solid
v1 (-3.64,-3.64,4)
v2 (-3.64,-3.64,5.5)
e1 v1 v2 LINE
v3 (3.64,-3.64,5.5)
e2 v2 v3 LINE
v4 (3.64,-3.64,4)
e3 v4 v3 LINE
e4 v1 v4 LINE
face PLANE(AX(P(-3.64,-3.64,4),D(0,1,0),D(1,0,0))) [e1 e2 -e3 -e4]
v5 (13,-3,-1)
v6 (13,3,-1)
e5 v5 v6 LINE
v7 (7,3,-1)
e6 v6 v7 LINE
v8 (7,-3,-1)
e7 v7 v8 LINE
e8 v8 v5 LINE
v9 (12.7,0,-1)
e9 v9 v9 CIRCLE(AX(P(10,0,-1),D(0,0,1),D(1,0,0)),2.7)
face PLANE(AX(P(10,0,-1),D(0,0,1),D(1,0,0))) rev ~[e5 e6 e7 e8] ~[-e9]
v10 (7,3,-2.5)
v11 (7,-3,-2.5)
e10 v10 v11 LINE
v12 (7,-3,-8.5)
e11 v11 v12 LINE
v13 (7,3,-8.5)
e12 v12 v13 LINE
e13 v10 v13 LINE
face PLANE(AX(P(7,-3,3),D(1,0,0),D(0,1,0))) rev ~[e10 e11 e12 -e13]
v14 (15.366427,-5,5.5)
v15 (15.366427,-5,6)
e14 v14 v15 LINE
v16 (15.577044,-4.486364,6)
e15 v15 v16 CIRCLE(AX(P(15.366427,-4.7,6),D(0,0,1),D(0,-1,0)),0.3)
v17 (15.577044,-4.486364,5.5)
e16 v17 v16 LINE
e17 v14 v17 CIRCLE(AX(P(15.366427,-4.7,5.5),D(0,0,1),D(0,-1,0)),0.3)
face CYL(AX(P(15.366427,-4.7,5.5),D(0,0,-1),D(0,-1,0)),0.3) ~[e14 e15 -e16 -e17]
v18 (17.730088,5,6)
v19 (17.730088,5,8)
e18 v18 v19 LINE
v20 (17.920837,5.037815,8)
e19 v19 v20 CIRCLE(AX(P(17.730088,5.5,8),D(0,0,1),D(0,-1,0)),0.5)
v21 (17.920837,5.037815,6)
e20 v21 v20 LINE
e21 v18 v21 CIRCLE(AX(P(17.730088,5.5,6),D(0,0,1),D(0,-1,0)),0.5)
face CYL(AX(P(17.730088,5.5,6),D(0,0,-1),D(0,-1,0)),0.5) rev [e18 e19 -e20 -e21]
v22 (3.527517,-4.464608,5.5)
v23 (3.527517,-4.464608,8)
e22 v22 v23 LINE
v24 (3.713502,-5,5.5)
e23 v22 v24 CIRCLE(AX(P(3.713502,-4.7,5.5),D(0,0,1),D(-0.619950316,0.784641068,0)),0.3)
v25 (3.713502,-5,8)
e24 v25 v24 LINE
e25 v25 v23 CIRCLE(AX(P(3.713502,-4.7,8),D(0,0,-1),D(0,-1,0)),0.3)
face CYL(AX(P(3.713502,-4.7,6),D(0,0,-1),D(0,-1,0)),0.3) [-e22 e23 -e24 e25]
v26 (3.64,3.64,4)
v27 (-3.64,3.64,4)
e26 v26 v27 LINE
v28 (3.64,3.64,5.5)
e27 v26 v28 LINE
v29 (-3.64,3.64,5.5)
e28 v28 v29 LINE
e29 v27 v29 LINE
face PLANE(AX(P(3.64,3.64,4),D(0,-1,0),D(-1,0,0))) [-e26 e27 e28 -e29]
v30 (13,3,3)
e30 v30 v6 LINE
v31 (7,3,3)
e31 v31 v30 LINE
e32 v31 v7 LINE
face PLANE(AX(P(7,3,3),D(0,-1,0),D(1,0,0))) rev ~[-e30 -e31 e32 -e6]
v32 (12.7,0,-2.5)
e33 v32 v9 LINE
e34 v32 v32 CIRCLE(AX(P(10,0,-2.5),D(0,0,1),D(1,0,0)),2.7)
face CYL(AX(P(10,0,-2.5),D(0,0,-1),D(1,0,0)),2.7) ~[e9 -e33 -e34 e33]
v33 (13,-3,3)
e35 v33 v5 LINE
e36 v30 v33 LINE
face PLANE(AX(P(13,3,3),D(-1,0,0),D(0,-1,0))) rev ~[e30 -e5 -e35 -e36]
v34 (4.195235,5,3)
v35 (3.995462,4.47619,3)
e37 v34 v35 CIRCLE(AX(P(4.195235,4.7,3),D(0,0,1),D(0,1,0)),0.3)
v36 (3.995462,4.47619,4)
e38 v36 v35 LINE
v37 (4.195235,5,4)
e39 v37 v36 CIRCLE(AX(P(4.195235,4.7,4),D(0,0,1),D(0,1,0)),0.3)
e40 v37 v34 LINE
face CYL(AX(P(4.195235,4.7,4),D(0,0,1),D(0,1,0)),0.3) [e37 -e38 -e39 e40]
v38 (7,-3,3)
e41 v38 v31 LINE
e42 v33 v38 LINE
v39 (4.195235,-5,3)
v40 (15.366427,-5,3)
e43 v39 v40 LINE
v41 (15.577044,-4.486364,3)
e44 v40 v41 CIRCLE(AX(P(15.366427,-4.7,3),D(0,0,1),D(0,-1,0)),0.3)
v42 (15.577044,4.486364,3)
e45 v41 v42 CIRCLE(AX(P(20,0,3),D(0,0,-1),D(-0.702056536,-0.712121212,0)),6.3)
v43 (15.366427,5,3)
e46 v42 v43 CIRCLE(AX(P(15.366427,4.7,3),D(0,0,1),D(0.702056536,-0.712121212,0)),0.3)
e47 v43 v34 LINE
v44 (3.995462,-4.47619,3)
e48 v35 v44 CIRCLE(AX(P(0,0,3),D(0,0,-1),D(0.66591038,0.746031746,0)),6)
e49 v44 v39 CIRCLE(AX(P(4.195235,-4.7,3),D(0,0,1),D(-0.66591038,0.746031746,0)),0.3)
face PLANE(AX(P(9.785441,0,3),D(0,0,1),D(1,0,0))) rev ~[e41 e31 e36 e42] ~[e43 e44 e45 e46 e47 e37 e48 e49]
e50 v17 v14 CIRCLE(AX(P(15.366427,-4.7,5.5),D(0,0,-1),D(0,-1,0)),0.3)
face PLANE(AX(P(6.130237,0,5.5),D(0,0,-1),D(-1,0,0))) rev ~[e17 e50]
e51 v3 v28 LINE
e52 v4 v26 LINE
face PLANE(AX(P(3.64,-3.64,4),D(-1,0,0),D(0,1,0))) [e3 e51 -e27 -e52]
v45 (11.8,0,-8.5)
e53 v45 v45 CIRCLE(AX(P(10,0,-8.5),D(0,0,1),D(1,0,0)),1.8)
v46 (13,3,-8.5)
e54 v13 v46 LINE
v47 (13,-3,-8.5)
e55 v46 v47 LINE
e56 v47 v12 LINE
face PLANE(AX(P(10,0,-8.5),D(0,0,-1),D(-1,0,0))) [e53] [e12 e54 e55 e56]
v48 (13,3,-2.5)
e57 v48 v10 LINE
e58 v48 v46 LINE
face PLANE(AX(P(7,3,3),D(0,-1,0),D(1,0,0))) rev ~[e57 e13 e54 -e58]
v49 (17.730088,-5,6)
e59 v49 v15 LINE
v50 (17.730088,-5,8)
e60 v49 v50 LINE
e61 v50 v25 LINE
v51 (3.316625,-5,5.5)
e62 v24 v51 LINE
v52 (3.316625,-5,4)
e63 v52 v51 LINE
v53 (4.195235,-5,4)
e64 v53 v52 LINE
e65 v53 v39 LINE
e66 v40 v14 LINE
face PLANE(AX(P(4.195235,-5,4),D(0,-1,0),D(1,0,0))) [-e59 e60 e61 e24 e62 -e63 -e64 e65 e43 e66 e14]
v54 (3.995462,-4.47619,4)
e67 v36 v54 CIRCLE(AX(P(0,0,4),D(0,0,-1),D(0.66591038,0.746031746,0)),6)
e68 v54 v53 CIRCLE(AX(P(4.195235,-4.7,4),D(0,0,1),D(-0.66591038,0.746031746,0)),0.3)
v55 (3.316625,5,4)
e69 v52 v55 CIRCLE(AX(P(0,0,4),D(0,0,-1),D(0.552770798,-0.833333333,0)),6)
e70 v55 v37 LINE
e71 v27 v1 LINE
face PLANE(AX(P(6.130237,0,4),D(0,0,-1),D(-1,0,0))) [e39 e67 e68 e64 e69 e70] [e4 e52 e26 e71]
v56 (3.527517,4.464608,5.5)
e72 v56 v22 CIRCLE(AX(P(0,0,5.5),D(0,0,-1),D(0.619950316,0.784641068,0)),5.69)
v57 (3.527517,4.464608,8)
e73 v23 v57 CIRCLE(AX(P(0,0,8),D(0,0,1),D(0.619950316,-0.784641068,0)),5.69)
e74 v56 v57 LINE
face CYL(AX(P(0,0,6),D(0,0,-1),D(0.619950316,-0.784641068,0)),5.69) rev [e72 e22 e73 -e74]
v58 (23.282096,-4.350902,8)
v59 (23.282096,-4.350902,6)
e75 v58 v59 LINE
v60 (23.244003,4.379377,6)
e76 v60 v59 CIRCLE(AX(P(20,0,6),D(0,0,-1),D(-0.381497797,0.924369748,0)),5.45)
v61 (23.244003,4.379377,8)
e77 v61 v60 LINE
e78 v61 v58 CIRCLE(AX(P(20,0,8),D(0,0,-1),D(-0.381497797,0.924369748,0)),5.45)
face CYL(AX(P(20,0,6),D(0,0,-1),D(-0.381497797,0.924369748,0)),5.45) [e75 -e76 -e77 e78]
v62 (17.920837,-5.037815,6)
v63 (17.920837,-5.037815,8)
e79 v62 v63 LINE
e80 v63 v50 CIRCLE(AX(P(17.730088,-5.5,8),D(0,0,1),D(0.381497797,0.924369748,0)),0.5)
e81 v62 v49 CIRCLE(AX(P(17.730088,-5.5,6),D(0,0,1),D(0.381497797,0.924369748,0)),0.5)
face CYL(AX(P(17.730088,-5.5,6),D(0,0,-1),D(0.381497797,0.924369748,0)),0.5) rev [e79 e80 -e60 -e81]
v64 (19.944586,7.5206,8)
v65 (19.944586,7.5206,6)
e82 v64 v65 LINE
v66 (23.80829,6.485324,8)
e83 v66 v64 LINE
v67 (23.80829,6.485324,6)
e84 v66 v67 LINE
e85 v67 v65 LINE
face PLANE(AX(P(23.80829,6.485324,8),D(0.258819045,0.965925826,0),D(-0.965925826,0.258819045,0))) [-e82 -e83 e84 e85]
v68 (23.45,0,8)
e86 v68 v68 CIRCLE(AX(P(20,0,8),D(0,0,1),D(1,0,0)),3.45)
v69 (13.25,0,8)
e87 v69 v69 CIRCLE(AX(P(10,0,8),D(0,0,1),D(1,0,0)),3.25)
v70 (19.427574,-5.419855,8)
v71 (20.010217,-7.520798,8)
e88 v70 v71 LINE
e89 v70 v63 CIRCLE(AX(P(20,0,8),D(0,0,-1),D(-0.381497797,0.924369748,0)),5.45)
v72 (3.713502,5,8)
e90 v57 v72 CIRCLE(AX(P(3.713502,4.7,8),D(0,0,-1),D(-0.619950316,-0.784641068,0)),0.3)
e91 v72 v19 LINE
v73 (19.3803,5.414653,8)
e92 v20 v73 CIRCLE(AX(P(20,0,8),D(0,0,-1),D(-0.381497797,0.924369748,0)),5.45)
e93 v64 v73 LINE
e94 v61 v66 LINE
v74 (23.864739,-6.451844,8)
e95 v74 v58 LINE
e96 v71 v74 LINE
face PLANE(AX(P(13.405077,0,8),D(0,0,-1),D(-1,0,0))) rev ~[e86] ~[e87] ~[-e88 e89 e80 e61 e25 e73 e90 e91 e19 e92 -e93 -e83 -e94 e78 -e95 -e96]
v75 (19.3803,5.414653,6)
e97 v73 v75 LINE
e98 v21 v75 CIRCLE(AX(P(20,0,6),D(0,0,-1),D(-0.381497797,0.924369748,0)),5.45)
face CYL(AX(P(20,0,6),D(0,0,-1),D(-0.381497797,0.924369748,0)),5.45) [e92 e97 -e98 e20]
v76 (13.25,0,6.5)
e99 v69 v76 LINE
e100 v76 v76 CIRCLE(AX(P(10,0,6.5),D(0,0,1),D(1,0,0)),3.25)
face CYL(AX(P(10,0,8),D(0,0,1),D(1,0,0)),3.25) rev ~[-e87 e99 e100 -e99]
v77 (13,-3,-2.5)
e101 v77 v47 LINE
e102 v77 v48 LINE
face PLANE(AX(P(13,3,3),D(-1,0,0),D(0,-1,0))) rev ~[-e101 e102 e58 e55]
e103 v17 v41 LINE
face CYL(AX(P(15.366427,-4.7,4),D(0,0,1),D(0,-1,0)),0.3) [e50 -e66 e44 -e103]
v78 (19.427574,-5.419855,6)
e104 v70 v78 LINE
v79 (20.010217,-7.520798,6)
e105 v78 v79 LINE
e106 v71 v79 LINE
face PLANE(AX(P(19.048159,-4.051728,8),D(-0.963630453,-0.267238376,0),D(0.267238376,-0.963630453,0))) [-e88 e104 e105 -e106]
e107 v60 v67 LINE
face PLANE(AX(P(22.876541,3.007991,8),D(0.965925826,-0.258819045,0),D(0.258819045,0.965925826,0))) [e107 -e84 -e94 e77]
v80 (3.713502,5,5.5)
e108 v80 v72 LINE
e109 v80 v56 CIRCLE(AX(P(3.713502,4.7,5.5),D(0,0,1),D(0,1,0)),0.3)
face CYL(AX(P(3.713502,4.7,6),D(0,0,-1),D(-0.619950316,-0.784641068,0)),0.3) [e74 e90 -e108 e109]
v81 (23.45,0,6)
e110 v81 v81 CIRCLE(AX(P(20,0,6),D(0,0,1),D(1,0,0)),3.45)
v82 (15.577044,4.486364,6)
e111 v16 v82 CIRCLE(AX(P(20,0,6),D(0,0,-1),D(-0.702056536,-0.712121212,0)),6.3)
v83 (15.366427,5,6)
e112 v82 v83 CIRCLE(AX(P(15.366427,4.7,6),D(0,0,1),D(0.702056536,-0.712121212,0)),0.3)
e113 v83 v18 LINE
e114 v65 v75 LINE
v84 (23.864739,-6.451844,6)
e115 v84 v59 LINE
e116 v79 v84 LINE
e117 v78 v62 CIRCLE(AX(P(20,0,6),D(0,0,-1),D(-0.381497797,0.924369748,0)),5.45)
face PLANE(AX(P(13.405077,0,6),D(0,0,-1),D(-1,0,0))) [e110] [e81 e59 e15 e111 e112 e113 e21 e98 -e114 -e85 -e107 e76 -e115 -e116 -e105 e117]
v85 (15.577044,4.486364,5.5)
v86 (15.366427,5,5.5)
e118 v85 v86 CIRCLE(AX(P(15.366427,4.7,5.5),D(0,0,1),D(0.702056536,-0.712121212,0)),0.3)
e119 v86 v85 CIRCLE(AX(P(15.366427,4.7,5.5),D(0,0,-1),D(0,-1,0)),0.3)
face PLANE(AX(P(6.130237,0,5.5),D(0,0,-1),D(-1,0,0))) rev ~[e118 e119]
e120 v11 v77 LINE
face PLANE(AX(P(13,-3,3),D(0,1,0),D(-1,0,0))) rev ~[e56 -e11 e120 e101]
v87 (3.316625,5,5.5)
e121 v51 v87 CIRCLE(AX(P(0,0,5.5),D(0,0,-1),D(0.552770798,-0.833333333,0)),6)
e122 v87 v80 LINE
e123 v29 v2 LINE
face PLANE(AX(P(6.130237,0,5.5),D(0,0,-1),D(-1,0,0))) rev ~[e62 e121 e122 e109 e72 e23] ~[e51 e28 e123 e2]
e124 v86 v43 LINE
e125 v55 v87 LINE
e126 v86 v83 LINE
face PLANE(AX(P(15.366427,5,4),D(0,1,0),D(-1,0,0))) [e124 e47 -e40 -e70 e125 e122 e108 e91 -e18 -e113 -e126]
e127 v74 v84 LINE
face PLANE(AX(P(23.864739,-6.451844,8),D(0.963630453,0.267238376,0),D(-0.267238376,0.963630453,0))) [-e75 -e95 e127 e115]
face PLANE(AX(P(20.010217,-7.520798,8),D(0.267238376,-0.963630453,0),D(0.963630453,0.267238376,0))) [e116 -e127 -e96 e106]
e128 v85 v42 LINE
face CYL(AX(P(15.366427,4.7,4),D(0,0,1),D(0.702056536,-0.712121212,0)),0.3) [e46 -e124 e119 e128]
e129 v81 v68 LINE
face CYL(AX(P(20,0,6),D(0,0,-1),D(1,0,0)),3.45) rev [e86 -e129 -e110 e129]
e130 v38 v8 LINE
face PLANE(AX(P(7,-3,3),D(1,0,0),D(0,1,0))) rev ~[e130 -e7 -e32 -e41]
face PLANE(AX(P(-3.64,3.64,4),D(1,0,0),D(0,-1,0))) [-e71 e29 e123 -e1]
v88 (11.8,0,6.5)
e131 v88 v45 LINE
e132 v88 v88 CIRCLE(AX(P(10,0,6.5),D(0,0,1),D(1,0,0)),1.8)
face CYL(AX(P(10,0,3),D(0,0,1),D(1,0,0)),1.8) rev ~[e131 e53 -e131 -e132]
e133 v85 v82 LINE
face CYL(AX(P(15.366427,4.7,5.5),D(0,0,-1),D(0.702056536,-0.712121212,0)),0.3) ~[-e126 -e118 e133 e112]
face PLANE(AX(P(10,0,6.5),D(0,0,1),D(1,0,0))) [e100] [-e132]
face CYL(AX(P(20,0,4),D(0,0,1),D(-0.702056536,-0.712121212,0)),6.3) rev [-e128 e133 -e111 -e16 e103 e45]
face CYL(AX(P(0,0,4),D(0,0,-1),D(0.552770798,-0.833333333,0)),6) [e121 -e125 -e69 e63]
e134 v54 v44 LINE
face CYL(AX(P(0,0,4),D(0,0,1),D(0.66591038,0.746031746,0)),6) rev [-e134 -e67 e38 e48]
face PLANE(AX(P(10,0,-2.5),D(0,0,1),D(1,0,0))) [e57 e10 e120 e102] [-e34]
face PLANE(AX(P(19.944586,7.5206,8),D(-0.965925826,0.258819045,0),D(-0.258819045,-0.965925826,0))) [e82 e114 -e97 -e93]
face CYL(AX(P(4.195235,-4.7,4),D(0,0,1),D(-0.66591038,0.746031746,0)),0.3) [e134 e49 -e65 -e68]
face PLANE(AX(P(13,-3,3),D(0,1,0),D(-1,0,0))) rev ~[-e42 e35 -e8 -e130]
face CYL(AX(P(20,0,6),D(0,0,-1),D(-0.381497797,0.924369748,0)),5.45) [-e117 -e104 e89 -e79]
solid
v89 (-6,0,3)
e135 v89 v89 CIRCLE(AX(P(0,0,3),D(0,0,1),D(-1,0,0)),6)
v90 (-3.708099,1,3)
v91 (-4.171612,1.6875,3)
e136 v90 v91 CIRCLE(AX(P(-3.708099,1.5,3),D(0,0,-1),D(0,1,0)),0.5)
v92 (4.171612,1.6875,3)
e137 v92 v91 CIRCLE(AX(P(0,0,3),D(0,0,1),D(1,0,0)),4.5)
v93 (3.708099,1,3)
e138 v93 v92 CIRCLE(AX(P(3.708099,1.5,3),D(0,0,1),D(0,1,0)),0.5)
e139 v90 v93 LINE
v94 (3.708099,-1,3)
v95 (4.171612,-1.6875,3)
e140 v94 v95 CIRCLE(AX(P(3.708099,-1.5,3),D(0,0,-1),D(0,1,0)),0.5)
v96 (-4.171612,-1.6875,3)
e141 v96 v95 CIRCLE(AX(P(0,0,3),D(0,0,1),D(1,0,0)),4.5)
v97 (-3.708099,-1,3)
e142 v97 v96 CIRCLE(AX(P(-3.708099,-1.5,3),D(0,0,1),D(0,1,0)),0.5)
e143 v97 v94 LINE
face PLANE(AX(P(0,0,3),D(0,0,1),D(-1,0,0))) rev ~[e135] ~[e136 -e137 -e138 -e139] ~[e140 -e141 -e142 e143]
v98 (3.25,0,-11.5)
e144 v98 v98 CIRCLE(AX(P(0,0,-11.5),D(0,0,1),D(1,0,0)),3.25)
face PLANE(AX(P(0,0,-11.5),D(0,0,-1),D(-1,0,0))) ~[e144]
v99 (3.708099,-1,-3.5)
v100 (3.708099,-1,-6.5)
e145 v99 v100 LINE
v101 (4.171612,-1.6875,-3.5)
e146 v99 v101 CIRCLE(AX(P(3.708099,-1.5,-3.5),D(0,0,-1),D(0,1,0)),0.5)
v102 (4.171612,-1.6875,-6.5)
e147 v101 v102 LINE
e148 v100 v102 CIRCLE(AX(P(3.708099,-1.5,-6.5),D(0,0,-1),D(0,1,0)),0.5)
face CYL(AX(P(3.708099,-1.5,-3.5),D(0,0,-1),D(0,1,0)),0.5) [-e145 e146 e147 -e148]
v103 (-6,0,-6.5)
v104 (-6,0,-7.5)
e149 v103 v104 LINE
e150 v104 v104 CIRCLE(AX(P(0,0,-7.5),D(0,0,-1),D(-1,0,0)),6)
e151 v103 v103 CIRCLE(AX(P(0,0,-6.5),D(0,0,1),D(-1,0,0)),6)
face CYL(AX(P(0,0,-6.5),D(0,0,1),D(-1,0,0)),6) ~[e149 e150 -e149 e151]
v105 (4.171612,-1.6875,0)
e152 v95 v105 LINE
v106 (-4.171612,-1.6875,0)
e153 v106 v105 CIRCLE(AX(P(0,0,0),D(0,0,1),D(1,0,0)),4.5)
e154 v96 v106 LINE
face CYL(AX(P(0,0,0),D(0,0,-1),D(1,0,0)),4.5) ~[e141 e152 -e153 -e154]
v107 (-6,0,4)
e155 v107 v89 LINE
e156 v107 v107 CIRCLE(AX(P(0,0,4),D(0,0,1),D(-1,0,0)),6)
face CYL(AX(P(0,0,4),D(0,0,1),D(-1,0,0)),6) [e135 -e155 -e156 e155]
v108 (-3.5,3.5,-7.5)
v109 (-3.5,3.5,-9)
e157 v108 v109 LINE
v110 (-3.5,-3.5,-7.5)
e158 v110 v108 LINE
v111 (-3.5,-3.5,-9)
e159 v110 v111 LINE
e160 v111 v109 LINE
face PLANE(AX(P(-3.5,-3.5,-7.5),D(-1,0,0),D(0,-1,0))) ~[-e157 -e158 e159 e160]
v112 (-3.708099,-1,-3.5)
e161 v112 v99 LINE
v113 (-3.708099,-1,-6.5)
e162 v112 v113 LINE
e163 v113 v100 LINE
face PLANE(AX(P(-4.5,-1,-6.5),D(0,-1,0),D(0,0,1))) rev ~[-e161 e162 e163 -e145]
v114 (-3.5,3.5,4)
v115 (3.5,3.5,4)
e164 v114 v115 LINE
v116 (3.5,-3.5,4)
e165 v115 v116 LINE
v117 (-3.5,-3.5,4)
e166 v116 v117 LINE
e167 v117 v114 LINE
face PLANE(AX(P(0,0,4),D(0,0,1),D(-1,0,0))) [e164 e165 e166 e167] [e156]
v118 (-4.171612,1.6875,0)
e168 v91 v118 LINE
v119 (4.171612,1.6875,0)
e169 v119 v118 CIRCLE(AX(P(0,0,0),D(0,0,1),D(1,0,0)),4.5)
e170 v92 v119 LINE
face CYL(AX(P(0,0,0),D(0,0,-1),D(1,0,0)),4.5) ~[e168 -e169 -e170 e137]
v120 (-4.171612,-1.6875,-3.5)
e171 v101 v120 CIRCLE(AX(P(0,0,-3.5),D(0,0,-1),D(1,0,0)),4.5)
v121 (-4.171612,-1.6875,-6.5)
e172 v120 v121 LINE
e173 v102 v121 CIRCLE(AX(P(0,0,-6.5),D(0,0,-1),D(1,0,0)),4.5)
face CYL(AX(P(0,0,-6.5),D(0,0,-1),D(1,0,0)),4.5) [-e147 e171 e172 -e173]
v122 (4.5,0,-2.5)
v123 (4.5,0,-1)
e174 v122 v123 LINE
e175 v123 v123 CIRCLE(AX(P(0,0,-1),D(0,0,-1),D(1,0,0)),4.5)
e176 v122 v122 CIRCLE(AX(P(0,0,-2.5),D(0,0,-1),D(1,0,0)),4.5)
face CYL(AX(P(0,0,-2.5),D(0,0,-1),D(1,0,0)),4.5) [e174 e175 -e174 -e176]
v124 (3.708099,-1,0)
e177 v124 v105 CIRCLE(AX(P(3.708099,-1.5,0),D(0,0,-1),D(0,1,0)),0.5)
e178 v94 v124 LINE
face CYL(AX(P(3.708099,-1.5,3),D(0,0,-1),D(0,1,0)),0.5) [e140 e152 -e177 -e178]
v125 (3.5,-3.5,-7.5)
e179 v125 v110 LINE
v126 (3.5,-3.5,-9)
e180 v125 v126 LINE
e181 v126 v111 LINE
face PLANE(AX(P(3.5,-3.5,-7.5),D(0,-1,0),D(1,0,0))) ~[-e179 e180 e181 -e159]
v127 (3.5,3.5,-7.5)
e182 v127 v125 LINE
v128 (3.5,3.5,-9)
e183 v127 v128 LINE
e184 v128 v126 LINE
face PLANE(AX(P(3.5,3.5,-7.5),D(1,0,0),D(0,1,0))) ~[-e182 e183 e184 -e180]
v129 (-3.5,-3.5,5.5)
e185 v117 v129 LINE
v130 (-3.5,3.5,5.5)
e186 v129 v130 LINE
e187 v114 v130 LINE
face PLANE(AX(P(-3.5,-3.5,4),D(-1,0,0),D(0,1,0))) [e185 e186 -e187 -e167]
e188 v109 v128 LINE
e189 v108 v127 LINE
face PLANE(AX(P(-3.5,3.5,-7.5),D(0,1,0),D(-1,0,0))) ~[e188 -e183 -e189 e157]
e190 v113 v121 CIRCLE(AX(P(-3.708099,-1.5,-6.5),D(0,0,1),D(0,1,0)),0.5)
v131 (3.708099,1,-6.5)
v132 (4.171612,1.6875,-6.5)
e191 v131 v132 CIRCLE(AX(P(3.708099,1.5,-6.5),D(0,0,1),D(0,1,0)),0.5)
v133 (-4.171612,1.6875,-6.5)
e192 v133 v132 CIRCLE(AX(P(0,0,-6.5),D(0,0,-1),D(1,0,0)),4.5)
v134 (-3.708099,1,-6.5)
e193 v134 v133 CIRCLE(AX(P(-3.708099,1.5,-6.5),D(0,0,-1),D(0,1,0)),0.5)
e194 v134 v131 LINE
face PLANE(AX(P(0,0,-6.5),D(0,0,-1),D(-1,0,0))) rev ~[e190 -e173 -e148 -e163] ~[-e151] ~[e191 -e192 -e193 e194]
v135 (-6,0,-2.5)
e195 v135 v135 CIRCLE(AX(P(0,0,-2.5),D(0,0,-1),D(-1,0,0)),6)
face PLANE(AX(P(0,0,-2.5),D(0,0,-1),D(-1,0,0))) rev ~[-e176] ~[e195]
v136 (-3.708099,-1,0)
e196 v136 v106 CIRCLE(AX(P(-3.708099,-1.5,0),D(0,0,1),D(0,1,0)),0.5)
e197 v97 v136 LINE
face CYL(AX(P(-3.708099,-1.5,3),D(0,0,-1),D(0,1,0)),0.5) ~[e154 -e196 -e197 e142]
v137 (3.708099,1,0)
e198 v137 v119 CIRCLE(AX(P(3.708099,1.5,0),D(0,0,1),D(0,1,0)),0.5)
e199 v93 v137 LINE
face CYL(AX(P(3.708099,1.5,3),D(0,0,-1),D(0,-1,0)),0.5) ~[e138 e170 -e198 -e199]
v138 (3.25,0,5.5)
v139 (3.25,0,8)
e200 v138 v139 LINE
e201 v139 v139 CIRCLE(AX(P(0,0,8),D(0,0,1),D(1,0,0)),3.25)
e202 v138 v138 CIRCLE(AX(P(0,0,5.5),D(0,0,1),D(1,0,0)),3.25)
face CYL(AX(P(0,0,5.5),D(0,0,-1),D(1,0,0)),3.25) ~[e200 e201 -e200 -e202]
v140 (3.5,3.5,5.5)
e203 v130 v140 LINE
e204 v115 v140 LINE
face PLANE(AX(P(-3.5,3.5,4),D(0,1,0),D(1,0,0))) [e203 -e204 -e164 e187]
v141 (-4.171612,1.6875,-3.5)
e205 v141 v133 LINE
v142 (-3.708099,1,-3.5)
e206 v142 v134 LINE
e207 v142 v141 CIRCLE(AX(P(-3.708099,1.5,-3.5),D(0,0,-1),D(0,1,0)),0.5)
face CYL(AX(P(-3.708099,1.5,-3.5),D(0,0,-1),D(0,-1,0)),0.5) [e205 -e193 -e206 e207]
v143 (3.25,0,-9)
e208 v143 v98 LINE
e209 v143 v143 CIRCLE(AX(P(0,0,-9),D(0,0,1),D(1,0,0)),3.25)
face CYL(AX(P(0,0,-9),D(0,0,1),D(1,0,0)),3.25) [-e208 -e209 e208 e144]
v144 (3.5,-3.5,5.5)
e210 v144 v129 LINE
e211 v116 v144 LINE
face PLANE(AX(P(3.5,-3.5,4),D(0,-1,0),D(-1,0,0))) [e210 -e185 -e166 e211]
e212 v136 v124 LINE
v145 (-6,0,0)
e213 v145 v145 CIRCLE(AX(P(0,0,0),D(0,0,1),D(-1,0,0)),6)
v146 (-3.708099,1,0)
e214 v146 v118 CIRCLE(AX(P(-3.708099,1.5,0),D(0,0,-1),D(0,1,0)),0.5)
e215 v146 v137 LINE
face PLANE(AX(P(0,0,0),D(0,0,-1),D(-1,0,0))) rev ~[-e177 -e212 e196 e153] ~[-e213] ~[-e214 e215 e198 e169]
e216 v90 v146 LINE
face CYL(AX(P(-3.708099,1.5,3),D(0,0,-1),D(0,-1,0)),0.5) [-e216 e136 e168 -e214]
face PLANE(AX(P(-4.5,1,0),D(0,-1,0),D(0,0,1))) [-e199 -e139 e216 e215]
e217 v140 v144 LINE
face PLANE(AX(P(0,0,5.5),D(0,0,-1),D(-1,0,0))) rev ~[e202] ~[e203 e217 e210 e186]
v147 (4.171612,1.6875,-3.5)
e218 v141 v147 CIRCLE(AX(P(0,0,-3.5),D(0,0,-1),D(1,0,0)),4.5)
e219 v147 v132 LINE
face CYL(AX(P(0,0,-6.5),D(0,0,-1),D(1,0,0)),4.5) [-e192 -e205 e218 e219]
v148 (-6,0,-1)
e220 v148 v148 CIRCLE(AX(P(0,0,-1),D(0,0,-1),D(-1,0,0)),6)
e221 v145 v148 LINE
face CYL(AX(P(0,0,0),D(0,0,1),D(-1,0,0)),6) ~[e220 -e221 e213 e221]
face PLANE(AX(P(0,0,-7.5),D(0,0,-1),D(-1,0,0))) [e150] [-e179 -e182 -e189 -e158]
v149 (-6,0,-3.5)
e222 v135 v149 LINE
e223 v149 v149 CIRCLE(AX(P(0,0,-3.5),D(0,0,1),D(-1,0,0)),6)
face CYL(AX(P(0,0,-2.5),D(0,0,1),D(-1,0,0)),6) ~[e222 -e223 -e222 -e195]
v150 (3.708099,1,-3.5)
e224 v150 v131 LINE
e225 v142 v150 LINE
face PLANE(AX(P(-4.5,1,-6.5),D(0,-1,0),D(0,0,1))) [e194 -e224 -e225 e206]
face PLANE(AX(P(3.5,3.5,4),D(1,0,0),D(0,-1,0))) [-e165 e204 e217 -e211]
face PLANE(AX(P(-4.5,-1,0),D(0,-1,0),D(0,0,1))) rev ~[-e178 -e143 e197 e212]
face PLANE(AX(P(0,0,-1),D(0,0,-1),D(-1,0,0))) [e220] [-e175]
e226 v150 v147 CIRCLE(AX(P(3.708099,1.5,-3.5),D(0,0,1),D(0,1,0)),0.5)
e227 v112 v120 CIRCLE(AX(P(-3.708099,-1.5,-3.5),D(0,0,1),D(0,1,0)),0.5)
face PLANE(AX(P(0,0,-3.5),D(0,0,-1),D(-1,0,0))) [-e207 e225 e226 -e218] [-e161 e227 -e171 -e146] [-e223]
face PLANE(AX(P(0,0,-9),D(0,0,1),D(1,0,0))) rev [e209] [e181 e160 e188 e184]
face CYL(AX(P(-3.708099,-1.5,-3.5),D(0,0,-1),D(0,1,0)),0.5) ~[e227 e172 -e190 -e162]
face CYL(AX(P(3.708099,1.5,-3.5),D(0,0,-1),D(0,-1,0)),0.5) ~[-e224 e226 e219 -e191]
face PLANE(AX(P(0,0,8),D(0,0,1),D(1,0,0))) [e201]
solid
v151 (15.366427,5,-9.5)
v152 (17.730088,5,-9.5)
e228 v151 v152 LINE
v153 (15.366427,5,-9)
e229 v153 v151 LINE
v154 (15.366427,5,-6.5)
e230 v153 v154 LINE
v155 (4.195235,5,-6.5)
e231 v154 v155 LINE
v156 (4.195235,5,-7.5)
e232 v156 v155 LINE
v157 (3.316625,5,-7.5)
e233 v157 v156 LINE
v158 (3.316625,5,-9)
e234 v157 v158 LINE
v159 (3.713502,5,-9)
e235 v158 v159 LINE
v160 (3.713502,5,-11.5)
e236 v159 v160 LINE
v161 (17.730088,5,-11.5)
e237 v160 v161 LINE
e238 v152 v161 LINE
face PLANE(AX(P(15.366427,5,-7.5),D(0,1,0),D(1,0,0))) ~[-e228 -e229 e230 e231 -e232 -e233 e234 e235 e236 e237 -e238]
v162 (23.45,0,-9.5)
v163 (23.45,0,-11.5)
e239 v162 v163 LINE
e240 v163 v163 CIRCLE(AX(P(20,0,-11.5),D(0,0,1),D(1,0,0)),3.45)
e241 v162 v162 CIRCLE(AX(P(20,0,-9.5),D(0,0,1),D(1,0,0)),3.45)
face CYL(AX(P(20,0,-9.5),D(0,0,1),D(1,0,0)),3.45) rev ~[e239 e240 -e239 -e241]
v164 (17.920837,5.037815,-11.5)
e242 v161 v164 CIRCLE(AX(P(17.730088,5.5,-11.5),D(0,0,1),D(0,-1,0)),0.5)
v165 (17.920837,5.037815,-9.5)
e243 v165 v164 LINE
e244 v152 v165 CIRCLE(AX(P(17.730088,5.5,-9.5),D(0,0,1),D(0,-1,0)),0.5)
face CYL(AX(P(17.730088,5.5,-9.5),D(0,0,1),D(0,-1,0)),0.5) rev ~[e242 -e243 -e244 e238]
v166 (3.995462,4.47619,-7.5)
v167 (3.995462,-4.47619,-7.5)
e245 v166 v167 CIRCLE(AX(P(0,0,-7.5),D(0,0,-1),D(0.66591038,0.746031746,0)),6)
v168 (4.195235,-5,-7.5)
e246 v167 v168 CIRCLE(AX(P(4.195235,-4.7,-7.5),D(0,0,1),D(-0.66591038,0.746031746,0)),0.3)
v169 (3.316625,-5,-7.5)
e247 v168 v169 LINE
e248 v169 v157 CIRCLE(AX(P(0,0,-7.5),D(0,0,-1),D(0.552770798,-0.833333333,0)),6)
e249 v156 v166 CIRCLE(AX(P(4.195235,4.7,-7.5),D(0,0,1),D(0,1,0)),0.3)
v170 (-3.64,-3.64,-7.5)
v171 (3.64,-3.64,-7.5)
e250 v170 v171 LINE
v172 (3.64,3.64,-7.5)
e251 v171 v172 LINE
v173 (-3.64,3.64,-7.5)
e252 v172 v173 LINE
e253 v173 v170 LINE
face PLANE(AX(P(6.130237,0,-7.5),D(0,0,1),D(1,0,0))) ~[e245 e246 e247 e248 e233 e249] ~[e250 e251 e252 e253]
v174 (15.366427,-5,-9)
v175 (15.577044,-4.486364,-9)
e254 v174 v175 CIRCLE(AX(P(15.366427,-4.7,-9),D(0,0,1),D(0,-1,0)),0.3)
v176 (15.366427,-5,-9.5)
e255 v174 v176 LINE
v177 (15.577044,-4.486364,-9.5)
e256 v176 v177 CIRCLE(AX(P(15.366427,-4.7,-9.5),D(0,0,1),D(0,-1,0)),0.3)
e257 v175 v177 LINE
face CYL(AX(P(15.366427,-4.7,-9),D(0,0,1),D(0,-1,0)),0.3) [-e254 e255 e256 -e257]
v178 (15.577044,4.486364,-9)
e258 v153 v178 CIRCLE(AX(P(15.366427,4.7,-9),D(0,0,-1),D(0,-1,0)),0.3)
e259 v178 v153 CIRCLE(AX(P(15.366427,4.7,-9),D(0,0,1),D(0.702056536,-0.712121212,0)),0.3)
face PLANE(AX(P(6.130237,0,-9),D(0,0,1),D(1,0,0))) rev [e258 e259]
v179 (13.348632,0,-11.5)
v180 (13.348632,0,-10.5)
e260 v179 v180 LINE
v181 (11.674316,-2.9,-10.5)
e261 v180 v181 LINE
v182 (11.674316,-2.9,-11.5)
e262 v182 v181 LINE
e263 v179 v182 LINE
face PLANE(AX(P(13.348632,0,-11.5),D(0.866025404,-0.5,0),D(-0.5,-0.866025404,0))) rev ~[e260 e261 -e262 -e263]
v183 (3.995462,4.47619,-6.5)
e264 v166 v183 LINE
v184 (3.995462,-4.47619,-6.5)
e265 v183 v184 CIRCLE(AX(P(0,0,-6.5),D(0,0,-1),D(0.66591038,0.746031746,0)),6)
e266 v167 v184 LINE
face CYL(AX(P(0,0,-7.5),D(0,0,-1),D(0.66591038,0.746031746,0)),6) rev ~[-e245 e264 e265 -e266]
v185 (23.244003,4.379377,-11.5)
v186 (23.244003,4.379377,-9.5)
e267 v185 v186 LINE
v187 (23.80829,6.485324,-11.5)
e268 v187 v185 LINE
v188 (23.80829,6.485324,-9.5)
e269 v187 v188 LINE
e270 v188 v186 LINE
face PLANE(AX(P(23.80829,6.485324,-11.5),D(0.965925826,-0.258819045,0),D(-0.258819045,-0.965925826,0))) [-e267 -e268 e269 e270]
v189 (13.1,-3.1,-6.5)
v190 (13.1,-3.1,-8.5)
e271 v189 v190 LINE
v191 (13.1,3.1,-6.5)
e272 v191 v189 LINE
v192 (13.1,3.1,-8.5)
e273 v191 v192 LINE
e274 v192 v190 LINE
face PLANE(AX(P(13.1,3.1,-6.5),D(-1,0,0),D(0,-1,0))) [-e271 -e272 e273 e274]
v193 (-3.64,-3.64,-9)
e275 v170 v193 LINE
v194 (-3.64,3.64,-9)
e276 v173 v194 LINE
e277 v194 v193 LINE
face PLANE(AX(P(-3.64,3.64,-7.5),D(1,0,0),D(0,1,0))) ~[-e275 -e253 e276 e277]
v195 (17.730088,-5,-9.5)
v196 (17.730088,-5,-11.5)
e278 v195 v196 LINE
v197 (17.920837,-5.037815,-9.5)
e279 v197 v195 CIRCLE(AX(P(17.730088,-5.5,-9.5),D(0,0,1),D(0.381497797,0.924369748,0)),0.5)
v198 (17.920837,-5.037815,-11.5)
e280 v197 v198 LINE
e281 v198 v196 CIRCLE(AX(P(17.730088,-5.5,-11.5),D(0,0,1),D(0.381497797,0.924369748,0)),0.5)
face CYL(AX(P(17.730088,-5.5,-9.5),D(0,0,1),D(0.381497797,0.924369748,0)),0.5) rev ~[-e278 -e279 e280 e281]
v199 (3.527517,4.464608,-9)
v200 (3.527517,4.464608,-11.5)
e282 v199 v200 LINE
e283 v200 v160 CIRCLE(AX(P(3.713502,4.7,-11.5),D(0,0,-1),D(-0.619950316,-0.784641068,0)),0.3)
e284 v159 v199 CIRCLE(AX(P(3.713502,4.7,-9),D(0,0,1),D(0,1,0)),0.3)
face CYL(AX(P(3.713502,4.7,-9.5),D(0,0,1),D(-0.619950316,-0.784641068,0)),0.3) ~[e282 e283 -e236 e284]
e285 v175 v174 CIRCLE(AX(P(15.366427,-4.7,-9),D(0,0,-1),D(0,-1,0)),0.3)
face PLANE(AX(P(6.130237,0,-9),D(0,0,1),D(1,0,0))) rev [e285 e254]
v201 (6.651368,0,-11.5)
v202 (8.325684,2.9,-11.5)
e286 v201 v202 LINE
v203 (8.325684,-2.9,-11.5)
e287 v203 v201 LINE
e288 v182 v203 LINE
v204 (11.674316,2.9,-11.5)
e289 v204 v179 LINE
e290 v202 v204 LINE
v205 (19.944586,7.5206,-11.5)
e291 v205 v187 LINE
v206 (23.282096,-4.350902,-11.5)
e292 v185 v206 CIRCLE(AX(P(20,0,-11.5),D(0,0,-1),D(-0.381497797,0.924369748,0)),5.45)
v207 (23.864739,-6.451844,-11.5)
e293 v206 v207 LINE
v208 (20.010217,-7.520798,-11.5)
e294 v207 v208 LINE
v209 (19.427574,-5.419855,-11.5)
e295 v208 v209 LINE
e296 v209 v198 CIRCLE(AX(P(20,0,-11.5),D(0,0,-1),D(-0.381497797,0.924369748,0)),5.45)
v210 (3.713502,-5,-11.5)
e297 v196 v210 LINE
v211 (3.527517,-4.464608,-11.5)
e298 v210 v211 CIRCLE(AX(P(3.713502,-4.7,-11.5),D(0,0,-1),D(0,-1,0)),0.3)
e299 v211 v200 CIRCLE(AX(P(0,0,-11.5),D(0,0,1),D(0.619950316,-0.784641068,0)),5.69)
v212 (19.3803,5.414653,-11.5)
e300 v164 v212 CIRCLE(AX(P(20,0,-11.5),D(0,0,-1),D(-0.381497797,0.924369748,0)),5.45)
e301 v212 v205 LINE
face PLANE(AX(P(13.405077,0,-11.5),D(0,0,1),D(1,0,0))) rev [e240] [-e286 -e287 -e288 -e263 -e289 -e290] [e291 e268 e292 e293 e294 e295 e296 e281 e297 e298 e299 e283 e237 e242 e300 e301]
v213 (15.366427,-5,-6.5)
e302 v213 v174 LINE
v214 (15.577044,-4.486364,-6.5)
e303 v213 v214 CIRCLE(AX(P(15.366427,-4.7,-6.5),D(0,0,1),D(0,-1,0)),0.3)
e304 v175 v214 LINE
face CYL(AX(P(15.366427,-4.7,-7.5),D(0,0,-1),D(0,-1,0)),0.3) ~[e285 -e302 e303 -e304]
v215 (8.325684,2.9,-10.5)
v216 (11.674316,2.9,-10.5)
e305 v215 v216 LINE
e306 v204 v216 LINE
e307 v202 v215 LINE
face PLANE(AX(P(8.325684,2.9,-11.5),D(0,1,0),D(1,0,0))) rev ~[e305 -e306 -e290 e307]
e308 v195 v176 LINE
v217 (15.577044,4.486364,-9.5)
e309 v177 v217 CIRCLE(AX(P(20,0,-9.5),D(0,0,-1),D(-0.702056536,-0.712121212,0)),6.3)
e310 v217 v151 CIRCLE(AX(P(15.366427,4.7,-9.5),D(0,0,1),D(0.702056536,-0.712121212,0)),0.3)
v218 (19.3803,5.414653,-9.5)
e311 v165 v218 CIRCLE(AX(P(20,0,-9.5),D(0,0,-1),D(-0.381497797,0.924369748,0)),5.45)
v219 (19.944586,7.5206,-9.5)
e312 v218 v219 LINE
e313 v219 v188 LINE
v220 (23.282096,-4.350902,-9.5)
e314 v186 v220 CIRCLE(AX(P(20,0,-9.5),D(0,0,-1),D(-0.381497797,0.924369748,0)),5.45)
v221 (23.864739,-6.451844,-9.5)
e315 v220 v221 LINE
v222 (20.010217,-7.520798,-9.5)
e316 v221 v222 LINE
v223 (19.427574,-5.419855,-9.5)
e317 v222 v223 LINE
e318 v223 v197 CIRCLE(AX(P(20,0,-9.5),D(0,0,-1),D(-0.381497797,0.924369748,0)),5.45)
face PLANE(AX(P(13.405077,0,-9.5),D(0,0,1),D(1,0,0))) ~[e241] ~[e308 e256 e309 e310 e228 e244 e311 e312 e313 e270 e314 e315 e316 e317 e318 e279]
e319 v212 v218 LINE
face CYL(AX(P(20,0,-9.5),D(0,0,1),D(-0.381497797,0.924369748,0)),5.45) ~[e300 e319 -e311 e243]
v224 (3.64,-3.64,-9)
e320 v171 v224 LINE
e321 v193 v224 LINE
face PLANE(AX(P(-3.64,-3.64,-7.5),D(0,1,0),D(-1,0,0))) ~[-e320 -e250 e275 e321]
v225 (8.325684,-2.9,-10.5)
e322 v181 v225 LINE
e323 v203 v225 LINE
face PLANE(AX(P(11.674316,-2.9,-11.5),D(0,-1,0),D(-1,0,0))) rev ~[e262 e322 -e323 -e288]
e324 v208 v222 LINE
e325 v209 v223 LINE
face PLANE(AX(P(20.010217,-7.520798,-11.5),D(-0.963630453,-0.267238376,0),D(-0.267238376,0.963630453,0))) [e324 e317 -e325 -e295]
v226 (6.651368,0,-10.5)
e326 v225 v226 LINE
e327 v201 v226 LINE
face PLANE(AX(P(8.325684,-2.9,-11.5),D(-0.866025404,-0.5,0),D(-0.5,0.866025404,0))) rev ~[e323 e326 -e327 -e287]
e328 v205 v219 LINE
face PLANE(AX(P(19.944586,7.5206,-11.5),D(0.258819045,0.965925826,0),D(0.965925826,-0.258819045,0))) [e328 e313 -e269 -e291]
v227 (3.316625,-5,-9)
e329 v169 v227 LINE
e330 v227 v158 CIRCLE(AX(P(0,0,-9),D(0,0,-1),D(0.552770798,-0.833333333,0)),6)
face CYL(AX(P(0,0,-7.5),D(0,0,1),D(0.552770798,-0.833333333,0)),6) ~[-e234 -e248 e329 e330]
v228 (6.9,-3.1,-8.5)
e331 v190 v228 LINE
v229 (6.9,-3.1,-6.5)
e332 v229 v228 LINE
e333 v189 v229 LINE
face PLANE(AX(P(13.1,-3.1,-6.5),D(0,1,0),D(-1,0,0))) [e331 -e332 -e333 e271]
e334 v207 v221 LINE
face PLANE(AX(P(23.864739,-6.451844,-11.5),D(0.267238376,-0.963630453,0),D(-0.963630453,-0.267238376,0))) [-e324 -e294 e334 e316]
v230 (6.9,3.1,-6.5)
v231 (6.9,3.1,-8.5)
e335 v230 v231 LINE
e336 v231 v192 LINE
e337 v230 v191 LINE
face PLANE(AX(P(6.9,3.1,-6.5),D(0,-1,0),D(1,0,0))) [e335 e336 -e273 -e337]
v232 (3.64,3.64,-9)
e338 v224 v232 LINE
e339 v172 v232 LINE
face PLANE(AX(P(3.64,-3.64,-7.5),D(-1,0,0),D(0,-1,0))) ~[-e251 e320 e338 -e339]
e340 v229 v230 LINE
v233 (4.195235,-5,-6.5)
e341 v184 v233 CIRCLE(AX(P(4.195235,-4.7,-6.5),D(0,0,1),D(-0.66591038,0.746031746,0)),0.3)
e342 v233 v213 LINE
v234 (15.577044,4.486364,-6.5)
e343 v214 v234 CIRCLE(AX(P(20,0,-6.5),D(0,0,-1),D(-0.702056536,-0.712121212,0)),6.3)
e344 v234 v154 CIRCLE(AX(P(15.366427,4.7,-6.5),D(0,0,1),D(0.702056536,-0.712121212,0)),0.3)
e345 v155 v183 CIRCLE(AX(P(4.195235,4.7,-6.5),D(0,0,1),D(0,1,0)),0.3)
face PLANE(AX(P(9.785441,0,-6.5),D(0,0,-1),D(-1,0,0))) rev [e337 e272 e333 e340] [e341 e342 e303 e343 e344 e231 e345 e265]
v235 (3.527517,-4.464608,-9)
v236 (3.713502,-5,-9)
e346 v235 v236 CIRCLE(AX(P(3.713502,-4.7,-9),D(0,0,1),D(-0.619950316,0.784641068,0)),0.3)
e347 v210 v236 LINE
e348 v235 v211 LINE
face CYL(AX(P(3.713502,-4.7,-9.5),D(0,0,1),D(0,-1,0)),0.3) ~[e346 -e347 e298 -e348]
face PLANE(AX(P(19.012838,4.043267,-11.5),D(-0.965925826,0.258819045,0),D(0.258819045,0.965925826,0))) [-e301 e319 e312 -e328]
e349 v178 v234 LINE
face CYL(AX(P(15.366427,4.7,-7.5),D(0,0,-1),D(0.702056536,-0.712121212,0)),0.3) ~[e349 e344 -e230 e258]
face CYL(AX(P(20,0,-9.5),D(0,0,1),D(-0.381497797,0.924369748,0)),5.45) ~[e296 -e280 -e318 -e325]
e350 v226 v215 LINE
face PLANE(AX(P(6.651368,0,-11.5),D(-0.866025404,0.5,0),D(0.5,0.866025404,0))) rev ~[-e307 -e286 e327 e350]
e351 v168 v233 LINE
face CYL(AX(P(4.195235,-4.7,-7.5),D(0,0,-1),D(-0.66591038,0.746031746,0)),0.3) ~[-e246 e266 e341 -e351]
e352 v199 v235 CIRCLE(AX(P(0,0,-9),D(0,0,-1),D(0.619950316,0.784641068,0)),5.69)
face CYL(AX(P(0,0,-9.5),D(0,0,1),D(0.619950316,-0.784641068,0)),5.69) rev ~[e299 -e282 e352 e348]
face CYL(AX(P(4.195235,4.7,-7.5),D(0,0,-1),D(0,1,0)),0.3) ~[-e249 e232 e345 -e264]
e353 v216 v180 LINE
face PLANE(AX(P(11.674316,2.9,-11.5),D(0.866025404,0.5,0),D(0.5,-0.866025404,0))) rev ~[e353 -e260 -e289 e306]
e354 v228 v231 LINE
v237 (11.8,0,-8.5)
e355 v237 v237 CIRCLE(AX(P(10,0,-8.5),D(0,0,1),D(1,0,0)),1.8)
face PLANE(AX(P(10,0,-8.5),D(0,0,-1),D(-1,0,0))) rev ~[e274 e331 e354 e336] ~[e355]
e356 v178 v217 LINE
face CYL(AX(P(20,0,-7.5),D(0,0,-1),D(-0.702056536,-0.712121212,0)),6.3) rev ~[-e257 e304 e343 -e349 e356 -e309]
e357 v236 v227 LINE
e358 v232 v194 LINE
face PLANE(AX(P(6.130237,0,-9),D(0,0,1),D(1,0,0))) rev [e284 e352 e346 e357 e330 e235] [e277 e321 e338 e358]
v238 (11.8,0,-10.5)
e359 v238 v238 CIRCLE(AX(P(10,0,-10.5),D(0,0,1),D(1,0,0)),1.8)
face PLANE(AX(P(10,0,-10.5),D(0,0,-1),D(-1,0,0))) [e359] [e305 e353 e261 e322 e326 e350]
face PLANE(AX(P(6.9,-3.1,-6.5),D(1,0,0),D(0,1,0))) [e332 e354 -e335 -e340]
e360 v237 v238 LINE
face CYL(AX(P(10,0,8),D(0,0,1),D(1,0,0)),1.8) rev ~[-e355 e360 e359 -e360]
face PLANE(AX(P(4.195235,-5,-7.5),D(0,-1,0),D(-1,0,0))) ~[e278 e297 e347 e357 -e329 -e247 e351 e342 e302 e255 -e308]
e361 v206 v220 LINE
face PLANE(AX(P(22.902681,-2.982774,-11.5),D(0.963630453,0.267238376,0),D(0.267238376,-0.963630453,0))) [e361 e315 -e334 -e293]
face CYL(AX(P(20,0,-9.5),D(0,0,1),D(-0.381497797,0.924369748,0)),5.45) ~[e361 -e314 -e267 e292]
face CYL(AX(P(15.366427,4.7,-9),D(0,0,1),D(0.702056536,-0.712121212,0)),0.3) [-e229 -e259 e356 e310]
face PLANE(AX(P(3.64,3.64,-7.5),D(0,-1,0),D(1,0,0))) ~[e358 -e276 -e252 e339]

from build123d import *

# Parameters (mm, degrees)
SKETCH_1_R               = 4.5
EXTRUDE_1_DEPTH          = 3
SKETCH_2_R               = 6
EXTRUDE_2_DEPTH          = 1
EXTRUDE_START            = 1.5
SKETCH_3_R               = 4.5
EXTRUDE_3_DEPTH          = 1.5
SKETCH_4_R               = 6.000000000000001
EXTRUDE_4_DEPTH          = 1
EXTRUDE_START_2          = 3
SKETCH_5_R               = 4.5
EXTRUDE_5_DEPTH          = 3
SKETCH_6_R               = 6.000000000000001
EXTRUDE_6_DEPTH          = 1
EXTRUDE_START_3          = 1
SKETCH_7_R               = 6.000000000000001
EXTRUDE_7_DEPTH          = 1
EXTRUDE_10_DEPTH         = 1.5
SKETCH_11_R              = 3.25
EXTRUDE_11_DEPTH         = 2.5
EXTRUDE_12_DEPTH         = 1.5
EXTRUDE_13_DEPTH         = 0.5
FILLET_9_R               = 0.3
SKETCH_14_R              = 3.450000000000003
EXTRUDE_14_DEPTH         = 2
EXTRUDE_15_DEPTH         = 1
SKETCH_16_R              = 1.799999999999999
CUT_EXTRUDE_1_DEPTH      = 33.61828474950821
CUT_EXTRUDE_2_DEPTH      = 2
EXTRUDE_16_DEPTH         = 11.5
SKETCH_19_R              = 1.799999999999999
CUT_EXTRUDE_3_DEPTH      = 30.89903844607716
CUT_EXTRUDE_4_DEPTH      = 0.75
CUT_EXTRUDE_4_DEPTH_BACK = 0.75
SKETCH_20_R              = 2.6999999999999993
SKETCH_21_R              = 3.2500000000000027
CUT_EXTRUDE_5_DEPTH      = 1.5
CUT_EXTRUDE_6_DEPTH      = 1
EXTRUDE_17_DEPTH         = 2
EXTRUDE_18_DEPTH         = 2
SKETCH_25_W              = 3.0000000000000013
SKETCH_25_H              = 2
SKETCH_25_W_2            = 3
CUT_EXTRUDE_7_DEPTH      = 33.9517055037576
FILLET_10_R              = 0.5


with BuildPart() as part:
    # ｽｹｯﾁ1 → ﾎﾞｽ - 押し出し1 (new body)
    with BuildSketch(Plane.XY):
        Circle(SKETCH_1_R)
    extrude(amount=EXTRUDE_1_DEPTH)

    # ｽｹｯﾁ2 → ﾎﾞｽ - 押し出し2 (add)
    with BuildSketch(Plane(origin=(0, 0, 0), x_dir=(-1, 0, 0), z_dir=(0, 0, -1))):
        Circle(SKETCH_2_R)
    extrude(amount=EXTRUDE_2_DEPTH)

    # ｽｹｯﾁ3 → ﾎﾞｽ - 押し出し3 (add)
    with BuildSketch(Plane(origin=(0, 0, -1), x_dir=(-1, 0, 0), z_dir=(0, 0, -1)).offset(EXTRUDE_START)):
        with Locations(Location((0, 0, 0), (0, 0, 180))):
            Circle(SKETCH_3_R)
    extrude(amount=-EXTRUDE_3_DEPTH)

    # ｽｹｯﾁ4 → ﾎﾞｽ - 押し出し4 (add)
    with BuildSketch(Plane(origin=(0, 0, -2.5), x_dir=(-1, 0, 0), z_dir=(0, 0, -1))):
        Circle(SKETCH_4_R)
    extrude(amount=EXTRUDE_4_DEPTH)

    # ｽｹｯﾁ5 → ﾎﾞｽ - 押し出し5 (add)
    with BuildSketch(Plane(origin=(0, 0, -3.5), x_dir=(-1, 0, 0), z_dir=(0, 0, -1)).offset(EXTRUDE_START_2)):
        with Locations(Location((0, 0, 0), (0, 0, 180))):
            Circle(SKETCH_5_R)
    extrude(amount=-EXTRUDE_5_DEPTH)

    # ｽｹｯﾁ6 → ﾎﾞｽ - 押し出し6 (add)
    with BuildSketch(Plane(origin=(0, 0, -6.500000000000001), x_dir=(-1, 0, 0), z_dir=(0, 0, -1))):
        Circle(SKETCH_6_R)
    extrude(amount=EXTRUDE_6_DEPTH)

    # ｽｹｯﾁ7 → ﾎﾞｽ - 押し出し7 (add)
    with BuildSketch(Plane.XY.offset(3).offset(EXTRUDE_START_3)):
        with Locations(Location((0, 0, 0), (0, 0, 180))):
            Circle(SKETCH_7_R)
    extrude(amount=-EXTRUDE_7_DEPTH)

    # ｽｹｯﾁ10 → ﾎﾞｽ - 押し出し10 (add)
    with BuildSketch(Plane.XY.offset(4)):
        Polygon((3.4999999999999996, -3.5), (-3.5000000000000004, -3.500000000000001), (-3.5000000000000004, 3.5000000000000004), (3.4999999999999996, 3.5), align=None)
    extrude_10 = extrude(amount=EXTRUDE_10_DEPTH)

    # ｽｹｯﾁ11 → ﾎﾞｽ - 押し出し11 (add)
    with BuildSketch(Plane.XY.offset(5.5)):
        Circle(SKETCH_11_R)
    extrude_11 = extrude(amount=EXTRUDE_11_DEPTH)

    # ﾐﾗｰ1: ﾎﾞｽ - 押し出し10, ﾎﾞｽ - 押し出し11 across plane
    add(extrude_10.mirror(Plane.XY.offset(-1.7500000000000002)))
    add(extrude_11.mirror(Plane.XY.offset(-1.7500000000000002)))

    # ｽｹｯﾁ25 → ｶｯﾄ - 押し出し7 (cut, through all)
    with BuildSketch(Plane.ZY.offset(4.5)):
        with Locations((-5.000000000000001, 0)):
            Rectangle(SKETCH_25_W, SKETCH_25_H)
        with Locations((1.5, 0)):
            Rectangle(SKETCH_25_W_2, SKETCH_25_H)
    extrude(amount=-CUT_EXTRUDE_7_DEPTH, mode=Mode.SUBTRACT)

    # ﾌｨﾚｯﾄ10
    fillet_10_edges = [part.edges().sort_by_distance(p)[0] for p in [
        (4.387482193696061, 1, 1.5),
        (-4.387482193696061, 1, 1.5),
        (-4.387482193696061, -1, 1.5),
        (4.387482193696061, -1, 1.5),
        (-4.387482193696061, 1, -5),
        (4.387482193696061, 1, -5),
        (4.387482193696061, -1, -5),
        (-4.387482193696061, -1, -5),
    ]]
    fillet(fillet_10_edges, radius=FILLET_10_R)


with BuildPart() as body_2:
    # ｽｹｯﾁ12 → ﾎﾞｽ - 押し出し12 (new body)
    with BuildSketch(Plane.XY.offset(4)):
        with BuildLine():
            Line((3.3166247903554016, 5), (16.167246420652642, 5))
            ThreePointArc((16.167246420652642, 5), (13.700000000000001, 3.57e-15), (16.16724642065264, -5))
            Line((16.16724642065264, -5), (3.3166247903553985, -5.000000000000003))
            ThreePointArc((3.3166247903553985, -5.000000000000003), (-6.000000000000001, 7.3e-16), (3.3166247903554016, 5))
        make_face()
        Polygon((3.6399999999999997, -3.64), (3.6399999999999997, 3.64), (-3.6400000000000006, 3.6400000000000006), (-3.6400000000000006, -3.640000000000001), align=None, mode=Mode.SUBTRACT)
    extrude(amount=EXTRUDE_12_DEPTH)

    # ｽｹｯﾁ13 → ﾎﾞｽ - 押し出し13 (add)
    with BuildSketch(Plane.XY.offset(5.5)):
        with BuildLine():
            Line((15.366426864718767, 5.000000000000001), (3.71350238992787, 4.999999999999999))
            ThreePointArc((3.71350238992787, 4.999999999999999), (3.4301142319534543, 4.798443648448575), (3.5275172952737197, 4.464607679465777))
            ThreePointArc((3.5275172952737197, 4.464607679465777), (5.69, 3.16e-15), (3.527517295273725, -4.464607679465773))
            ThreePointArc((3.527517295273725, -4.464607679465773), (3.4301142319534588, -4.798443648448569), (3.713502389927875, -4.9999999999999964))
            Line((3.713502389927875, -4.9999999999999964), (15.366426864718758, -4.999999999999996))
            ThreePointArc((15.366426864718758, -4.999999999999996), (15.643997494550977, -4.813818036595895), (15.57704382541336, -4.486363636363631))
            ThreePointArc((15.57704382541336, -4.486363636363631), (13.7, 6.37e-15), (15.577043825413366, 4.486363636363639))
            ThreePointArc((15.577043825413366, 4.486363636363639), (15.643997494550984, 4.813818036595901), (15.366426864718767, 5.000000000000001))
        make_face()
    extrude(amount=EXTRUDE_13_DEPTH)

    # ﾌｨﾚｯﾄ9
    fillet_9_edges = [body_2.edges().sort_by_distance(p)[0] for p in [
        (16.16724642065264, -5.000000000000001, 4.75),
        (16.167246420652642, 5, 4.75),
    ]]
    fillet(fillet_9_edges, radius=FILLET_9_R)

    # ｽｹｯﾁ14 → ﾎﾞｽ - 押し出し14 (add)
    with BuildSketch(Plane.XY.offset(6)):
        with BuildLine():
            Line((3.71350238992787, 5), (17.73008810743677, 5))
            ThreePointArc((17.73008810743677, 5), (17.827318665969592, 5.00954488636839), (17.920837005971492, 5.03781512605042))
            ThreePointArc((17.920837005971492, 5.03781512605042), (25.45, 2.42e-15), (17.920837005971496, -5.037815126050422))
            ThreePointArc((17.920837005971496, -5.037815126050422), (17.827318665969596, -5.009544886368393), (17.730088107436774, -5.000000000000003))
            Line((17.730088107436774, -5.000000000000003), (3.713502389927875, -5.000000000000003))
            ThreePointArc((3.713502389927875, -5.000000000000003), (3.430114231953458, -4.79844364844857), (3.5275172952737246, -4.4646076794657725))
            ThreePointArc((3.5275172952737246, -4.4646076794657725), (5.69, 3.16e-15), (3.52751729527372, 4.464607679465777))
            ThreePointArc((3.52751729527372, 4.464607679465777), (3.4301142319534534, 4.798443648448575), (3.71350238992787, 5))
        make_face()
        with Locations((20, 0)):
            Circle(SKETCH_14_R, mode=Mode.SUBTRACT)
    extrude(amount=EXTRUDE_14_DEPTH)

    # ｽｹｯﾁ15 → ﾎﾞｽ - 押し出し15 (add)
    with BuildSketch(Plane(origin=(0, 0, 4), x_dir=(-1, 0, 0), z_dir=(0, 0, -1))):
        with BuildLine():
            Line((-15.366426864718765, 5), (-4.195235392680607, 5.000000000000001))
            ThreePointArc((-4.195235392680607, 5.000000000000001), (-3.9149294373899135, 4.806904496764971), (-3.9954622787434353, 4.476190476190477))
            ThreePointArc((-3.9954622787434353, 4.476190476190477), (-6.000000000000001, 7.3e-16), (-3.9954622787434353, -4.476190476190477))
            ThreePointArc((-3.9954622787434353, -4.476190476190477), (-3.9149294373899135, -4.806904496764971), (-4.195235392680607, -5.000000000000001))
            Line((-4.195235392680607, -5.000000000000001), (-15.366426864718763, -5))
            ThreePointArc((-15.366426864718763, -5), (-15.643997494550984, -4.813818036595896), (-15.577043825413359, -4.48636363636363))
            ThreePointArc((-15.577043825413359, -4.48636363636363), (-13.700000000000001, 4.2e-15), (-15.577043825413364, 4.486363636363636))
            ThreePointArc((-15.577043825413364, 4.486363636363636), (-15.643997494550984, 4.813818036595898), (-15.366426864718765, 5))
        make_face()
    extrude(amount=EXTRUDE_15_DEPTH)


with BuildPart() as body_3:
    # ﾐﾗｰ2: mirrored copy
    add(body_2.part.mirror(Plane.XY.offset(-1.7500000000000002)))


with BuildPart() as cut_extrude_1_tool:
    # ｽｹｯﾁ16 → ｶｯﾄ - 押し出し1 (new, through all)
    with BuildSketch(Plane.XY.offset(8)):
        with Locations((10, 0)):
            Circle(SKETCH_16_R)
    extrude(amount=-CUT_EXTRUDE_1_DEPTH)


with BuildPart() as body_2_1:
    add(body_2.part)

    # ｶｯﾄ - 押し出し1: cut by cut_extrude_1_tool
    add(cut_extrude_1_tool.part, mode=Mode.SUBTRACT)

    # ｽｹｯﾁ18 → ﾎﾞｽ - 押し出し16 (add)
    with BuildSketch(Plane(origin=(0, 0, 3), x_dir=(-1, 0, 0), z_dir=(0, 0, -1))):
        Polygon((-7.000000000000002, 2.9999999999999996), (-13.000000000000002, 2.9999999999999987), (-13.000000000000002, -2.9999999999999996), (-7.000000000000002, -2.999999999999999), align=None)
    extrude(amount=EXTRUDE_16_DEPTH)

    # ｽｹｯﾁ19 → ｶｯﾄ - 押し出し3 (cut, through all)
    with BuildSketch(Plane.XY.offset(3)):
        with Locations((10, 0)):
            Circle(SKETCH_19_R)
    extrude(amount=-CUT_EXTRUDE_3_DEPTH, mode=Mode.SUBTRACT)

    # ｽｹｯﾁ20 → ｶｯﾄ - 押し出し4 (cut, two sides: drawn at the far end of the back side and taken through both)
    with BuildSketch(Plane.XY.offset(-1.7500000000000002).offset(-CUT_EXTRUDE_4_DEPTH_BACK)):
        Polygon((13.000000000000002, 2.9999999999999987), (7.000000000000002, 2.9999999999999996), (7.000000000000002, -2.999999999999999), (13.000000000000002, -2.9999999999999996), align=None)
        with Locations((10, 0)):
            Circle(SKETCH_20_R, mode=Mode.SUBTRACT)
    extrude(amount=CUT_EXTRUDE_4_DEPTH + CUT_EXTRUDE_4_DEPTH_BACK, mode=Mode.SUBTRACT)

    # ｽｹｯﾁ21 → ｶｯﾄ - 押し出し5 (cut)
    with BuildSketch(Plane.XY.offset(8)):
        with Locations((10, 0)):
            Circle(SKETCH_21_R)
    extrude(amount=-CUT_EXTRUDE_5_DEPTH, mode=Mode.SUBTRACT)

    # ｽｹｯﾁ23 → ﾎﾞｽ - 押し出し17 (add)
    with BuildSketch(Plane.XY.offset(8)):
        Polygon((19.012837862046062, 4.043267356160144), (22.87654116720234, 3.0079911757500586), (23.808289729571413, 6.485324150390705), (19.94458642441514, 7.520600330800791), align=None)
        Polygon((20.010217320150122, -7.52079753791903), (23.864739132984617, -6.451844033605999), (22.902680979102882, -2.9827744020549556), (19.04815916626839, -4.051727906367987), align=None)
    extrude(amount=-EXTRUDE_17_DEPTH)


with BuildPart() as body_3_1:
    add(body_3.part)

    # ｶｯﾄ - 押し出し1: cut by cut_extrude_1_tool
    add(cut_extrude_1_tool.part, mode=Mode.SUBTRACT)

    # ｽｹｯﾁ17 → ｶｯﾄ - 押し出し2 (cut)
    with BuildSketch(Plane.XY.offset(-6.500000000000001)):
        Polygon((13.100000000000001, -3.0999999999999996), (6.900000000000001, -3.1000000000000005), (6.900000000000001, 3.0999999999999996), (13.100000000000001, 3.1000000000000005), align=None)
    extrude(amount=-CUT_EXTRUDE_2_DEPTH, mode=Mode.SUBTRACT)

    # ｽｹｯﾁ22 → ｶｯﾄ - 押し出し6 (cut)
    with BuildSketch(Plane(origin=(0, 0, -11.5), x_dir=(-1, 0, 0), z_dir=(0, 0, -1))):
        Polygon((-11.674315780649914, 2.8999999999999995), (-13.348631561299829, 1e-17), (-11.674315780649913, -2.900000000000001), (-8.325684219350087, -2.9000000000000004), (-6.651368438700171, -8.7e-16), (-8.325684219350087, 2.9), align=None)
    extrude(amount=-CUT_EXTRUDE_6_DEPTH, mode=Mode.SUBTRACT)

    # ｽｹｯﾁ24 → ﾎﾞｽ - 押し出し18 (add)
    with BuildSketch(Plane(origin=(0, 0, -11.5), x_dir=(-1, 0, 0), z_dir=(0, 0, -1))):
        Polygon((-22.87654116720234, 3.0079911757500586), (-19.012837862046062, 4.043267356160144), (-19.94458642441514, 7.520600330800791), (-23.808289729571413, 6.485324150390705), align=None)
        Polygon((-23.864739132984617, -6.451844033605999), (-20.010217320150122, -7.52079753791903), (-19.04815916626839, -4.051727906367987), (-22.902680979102882, -2.9827744020549556), align=None)
    extrude(amount=-EXTRUDE_18_DEPTH)


solid = Compound([part.part, body_2_1.part, body_3_1.part])
